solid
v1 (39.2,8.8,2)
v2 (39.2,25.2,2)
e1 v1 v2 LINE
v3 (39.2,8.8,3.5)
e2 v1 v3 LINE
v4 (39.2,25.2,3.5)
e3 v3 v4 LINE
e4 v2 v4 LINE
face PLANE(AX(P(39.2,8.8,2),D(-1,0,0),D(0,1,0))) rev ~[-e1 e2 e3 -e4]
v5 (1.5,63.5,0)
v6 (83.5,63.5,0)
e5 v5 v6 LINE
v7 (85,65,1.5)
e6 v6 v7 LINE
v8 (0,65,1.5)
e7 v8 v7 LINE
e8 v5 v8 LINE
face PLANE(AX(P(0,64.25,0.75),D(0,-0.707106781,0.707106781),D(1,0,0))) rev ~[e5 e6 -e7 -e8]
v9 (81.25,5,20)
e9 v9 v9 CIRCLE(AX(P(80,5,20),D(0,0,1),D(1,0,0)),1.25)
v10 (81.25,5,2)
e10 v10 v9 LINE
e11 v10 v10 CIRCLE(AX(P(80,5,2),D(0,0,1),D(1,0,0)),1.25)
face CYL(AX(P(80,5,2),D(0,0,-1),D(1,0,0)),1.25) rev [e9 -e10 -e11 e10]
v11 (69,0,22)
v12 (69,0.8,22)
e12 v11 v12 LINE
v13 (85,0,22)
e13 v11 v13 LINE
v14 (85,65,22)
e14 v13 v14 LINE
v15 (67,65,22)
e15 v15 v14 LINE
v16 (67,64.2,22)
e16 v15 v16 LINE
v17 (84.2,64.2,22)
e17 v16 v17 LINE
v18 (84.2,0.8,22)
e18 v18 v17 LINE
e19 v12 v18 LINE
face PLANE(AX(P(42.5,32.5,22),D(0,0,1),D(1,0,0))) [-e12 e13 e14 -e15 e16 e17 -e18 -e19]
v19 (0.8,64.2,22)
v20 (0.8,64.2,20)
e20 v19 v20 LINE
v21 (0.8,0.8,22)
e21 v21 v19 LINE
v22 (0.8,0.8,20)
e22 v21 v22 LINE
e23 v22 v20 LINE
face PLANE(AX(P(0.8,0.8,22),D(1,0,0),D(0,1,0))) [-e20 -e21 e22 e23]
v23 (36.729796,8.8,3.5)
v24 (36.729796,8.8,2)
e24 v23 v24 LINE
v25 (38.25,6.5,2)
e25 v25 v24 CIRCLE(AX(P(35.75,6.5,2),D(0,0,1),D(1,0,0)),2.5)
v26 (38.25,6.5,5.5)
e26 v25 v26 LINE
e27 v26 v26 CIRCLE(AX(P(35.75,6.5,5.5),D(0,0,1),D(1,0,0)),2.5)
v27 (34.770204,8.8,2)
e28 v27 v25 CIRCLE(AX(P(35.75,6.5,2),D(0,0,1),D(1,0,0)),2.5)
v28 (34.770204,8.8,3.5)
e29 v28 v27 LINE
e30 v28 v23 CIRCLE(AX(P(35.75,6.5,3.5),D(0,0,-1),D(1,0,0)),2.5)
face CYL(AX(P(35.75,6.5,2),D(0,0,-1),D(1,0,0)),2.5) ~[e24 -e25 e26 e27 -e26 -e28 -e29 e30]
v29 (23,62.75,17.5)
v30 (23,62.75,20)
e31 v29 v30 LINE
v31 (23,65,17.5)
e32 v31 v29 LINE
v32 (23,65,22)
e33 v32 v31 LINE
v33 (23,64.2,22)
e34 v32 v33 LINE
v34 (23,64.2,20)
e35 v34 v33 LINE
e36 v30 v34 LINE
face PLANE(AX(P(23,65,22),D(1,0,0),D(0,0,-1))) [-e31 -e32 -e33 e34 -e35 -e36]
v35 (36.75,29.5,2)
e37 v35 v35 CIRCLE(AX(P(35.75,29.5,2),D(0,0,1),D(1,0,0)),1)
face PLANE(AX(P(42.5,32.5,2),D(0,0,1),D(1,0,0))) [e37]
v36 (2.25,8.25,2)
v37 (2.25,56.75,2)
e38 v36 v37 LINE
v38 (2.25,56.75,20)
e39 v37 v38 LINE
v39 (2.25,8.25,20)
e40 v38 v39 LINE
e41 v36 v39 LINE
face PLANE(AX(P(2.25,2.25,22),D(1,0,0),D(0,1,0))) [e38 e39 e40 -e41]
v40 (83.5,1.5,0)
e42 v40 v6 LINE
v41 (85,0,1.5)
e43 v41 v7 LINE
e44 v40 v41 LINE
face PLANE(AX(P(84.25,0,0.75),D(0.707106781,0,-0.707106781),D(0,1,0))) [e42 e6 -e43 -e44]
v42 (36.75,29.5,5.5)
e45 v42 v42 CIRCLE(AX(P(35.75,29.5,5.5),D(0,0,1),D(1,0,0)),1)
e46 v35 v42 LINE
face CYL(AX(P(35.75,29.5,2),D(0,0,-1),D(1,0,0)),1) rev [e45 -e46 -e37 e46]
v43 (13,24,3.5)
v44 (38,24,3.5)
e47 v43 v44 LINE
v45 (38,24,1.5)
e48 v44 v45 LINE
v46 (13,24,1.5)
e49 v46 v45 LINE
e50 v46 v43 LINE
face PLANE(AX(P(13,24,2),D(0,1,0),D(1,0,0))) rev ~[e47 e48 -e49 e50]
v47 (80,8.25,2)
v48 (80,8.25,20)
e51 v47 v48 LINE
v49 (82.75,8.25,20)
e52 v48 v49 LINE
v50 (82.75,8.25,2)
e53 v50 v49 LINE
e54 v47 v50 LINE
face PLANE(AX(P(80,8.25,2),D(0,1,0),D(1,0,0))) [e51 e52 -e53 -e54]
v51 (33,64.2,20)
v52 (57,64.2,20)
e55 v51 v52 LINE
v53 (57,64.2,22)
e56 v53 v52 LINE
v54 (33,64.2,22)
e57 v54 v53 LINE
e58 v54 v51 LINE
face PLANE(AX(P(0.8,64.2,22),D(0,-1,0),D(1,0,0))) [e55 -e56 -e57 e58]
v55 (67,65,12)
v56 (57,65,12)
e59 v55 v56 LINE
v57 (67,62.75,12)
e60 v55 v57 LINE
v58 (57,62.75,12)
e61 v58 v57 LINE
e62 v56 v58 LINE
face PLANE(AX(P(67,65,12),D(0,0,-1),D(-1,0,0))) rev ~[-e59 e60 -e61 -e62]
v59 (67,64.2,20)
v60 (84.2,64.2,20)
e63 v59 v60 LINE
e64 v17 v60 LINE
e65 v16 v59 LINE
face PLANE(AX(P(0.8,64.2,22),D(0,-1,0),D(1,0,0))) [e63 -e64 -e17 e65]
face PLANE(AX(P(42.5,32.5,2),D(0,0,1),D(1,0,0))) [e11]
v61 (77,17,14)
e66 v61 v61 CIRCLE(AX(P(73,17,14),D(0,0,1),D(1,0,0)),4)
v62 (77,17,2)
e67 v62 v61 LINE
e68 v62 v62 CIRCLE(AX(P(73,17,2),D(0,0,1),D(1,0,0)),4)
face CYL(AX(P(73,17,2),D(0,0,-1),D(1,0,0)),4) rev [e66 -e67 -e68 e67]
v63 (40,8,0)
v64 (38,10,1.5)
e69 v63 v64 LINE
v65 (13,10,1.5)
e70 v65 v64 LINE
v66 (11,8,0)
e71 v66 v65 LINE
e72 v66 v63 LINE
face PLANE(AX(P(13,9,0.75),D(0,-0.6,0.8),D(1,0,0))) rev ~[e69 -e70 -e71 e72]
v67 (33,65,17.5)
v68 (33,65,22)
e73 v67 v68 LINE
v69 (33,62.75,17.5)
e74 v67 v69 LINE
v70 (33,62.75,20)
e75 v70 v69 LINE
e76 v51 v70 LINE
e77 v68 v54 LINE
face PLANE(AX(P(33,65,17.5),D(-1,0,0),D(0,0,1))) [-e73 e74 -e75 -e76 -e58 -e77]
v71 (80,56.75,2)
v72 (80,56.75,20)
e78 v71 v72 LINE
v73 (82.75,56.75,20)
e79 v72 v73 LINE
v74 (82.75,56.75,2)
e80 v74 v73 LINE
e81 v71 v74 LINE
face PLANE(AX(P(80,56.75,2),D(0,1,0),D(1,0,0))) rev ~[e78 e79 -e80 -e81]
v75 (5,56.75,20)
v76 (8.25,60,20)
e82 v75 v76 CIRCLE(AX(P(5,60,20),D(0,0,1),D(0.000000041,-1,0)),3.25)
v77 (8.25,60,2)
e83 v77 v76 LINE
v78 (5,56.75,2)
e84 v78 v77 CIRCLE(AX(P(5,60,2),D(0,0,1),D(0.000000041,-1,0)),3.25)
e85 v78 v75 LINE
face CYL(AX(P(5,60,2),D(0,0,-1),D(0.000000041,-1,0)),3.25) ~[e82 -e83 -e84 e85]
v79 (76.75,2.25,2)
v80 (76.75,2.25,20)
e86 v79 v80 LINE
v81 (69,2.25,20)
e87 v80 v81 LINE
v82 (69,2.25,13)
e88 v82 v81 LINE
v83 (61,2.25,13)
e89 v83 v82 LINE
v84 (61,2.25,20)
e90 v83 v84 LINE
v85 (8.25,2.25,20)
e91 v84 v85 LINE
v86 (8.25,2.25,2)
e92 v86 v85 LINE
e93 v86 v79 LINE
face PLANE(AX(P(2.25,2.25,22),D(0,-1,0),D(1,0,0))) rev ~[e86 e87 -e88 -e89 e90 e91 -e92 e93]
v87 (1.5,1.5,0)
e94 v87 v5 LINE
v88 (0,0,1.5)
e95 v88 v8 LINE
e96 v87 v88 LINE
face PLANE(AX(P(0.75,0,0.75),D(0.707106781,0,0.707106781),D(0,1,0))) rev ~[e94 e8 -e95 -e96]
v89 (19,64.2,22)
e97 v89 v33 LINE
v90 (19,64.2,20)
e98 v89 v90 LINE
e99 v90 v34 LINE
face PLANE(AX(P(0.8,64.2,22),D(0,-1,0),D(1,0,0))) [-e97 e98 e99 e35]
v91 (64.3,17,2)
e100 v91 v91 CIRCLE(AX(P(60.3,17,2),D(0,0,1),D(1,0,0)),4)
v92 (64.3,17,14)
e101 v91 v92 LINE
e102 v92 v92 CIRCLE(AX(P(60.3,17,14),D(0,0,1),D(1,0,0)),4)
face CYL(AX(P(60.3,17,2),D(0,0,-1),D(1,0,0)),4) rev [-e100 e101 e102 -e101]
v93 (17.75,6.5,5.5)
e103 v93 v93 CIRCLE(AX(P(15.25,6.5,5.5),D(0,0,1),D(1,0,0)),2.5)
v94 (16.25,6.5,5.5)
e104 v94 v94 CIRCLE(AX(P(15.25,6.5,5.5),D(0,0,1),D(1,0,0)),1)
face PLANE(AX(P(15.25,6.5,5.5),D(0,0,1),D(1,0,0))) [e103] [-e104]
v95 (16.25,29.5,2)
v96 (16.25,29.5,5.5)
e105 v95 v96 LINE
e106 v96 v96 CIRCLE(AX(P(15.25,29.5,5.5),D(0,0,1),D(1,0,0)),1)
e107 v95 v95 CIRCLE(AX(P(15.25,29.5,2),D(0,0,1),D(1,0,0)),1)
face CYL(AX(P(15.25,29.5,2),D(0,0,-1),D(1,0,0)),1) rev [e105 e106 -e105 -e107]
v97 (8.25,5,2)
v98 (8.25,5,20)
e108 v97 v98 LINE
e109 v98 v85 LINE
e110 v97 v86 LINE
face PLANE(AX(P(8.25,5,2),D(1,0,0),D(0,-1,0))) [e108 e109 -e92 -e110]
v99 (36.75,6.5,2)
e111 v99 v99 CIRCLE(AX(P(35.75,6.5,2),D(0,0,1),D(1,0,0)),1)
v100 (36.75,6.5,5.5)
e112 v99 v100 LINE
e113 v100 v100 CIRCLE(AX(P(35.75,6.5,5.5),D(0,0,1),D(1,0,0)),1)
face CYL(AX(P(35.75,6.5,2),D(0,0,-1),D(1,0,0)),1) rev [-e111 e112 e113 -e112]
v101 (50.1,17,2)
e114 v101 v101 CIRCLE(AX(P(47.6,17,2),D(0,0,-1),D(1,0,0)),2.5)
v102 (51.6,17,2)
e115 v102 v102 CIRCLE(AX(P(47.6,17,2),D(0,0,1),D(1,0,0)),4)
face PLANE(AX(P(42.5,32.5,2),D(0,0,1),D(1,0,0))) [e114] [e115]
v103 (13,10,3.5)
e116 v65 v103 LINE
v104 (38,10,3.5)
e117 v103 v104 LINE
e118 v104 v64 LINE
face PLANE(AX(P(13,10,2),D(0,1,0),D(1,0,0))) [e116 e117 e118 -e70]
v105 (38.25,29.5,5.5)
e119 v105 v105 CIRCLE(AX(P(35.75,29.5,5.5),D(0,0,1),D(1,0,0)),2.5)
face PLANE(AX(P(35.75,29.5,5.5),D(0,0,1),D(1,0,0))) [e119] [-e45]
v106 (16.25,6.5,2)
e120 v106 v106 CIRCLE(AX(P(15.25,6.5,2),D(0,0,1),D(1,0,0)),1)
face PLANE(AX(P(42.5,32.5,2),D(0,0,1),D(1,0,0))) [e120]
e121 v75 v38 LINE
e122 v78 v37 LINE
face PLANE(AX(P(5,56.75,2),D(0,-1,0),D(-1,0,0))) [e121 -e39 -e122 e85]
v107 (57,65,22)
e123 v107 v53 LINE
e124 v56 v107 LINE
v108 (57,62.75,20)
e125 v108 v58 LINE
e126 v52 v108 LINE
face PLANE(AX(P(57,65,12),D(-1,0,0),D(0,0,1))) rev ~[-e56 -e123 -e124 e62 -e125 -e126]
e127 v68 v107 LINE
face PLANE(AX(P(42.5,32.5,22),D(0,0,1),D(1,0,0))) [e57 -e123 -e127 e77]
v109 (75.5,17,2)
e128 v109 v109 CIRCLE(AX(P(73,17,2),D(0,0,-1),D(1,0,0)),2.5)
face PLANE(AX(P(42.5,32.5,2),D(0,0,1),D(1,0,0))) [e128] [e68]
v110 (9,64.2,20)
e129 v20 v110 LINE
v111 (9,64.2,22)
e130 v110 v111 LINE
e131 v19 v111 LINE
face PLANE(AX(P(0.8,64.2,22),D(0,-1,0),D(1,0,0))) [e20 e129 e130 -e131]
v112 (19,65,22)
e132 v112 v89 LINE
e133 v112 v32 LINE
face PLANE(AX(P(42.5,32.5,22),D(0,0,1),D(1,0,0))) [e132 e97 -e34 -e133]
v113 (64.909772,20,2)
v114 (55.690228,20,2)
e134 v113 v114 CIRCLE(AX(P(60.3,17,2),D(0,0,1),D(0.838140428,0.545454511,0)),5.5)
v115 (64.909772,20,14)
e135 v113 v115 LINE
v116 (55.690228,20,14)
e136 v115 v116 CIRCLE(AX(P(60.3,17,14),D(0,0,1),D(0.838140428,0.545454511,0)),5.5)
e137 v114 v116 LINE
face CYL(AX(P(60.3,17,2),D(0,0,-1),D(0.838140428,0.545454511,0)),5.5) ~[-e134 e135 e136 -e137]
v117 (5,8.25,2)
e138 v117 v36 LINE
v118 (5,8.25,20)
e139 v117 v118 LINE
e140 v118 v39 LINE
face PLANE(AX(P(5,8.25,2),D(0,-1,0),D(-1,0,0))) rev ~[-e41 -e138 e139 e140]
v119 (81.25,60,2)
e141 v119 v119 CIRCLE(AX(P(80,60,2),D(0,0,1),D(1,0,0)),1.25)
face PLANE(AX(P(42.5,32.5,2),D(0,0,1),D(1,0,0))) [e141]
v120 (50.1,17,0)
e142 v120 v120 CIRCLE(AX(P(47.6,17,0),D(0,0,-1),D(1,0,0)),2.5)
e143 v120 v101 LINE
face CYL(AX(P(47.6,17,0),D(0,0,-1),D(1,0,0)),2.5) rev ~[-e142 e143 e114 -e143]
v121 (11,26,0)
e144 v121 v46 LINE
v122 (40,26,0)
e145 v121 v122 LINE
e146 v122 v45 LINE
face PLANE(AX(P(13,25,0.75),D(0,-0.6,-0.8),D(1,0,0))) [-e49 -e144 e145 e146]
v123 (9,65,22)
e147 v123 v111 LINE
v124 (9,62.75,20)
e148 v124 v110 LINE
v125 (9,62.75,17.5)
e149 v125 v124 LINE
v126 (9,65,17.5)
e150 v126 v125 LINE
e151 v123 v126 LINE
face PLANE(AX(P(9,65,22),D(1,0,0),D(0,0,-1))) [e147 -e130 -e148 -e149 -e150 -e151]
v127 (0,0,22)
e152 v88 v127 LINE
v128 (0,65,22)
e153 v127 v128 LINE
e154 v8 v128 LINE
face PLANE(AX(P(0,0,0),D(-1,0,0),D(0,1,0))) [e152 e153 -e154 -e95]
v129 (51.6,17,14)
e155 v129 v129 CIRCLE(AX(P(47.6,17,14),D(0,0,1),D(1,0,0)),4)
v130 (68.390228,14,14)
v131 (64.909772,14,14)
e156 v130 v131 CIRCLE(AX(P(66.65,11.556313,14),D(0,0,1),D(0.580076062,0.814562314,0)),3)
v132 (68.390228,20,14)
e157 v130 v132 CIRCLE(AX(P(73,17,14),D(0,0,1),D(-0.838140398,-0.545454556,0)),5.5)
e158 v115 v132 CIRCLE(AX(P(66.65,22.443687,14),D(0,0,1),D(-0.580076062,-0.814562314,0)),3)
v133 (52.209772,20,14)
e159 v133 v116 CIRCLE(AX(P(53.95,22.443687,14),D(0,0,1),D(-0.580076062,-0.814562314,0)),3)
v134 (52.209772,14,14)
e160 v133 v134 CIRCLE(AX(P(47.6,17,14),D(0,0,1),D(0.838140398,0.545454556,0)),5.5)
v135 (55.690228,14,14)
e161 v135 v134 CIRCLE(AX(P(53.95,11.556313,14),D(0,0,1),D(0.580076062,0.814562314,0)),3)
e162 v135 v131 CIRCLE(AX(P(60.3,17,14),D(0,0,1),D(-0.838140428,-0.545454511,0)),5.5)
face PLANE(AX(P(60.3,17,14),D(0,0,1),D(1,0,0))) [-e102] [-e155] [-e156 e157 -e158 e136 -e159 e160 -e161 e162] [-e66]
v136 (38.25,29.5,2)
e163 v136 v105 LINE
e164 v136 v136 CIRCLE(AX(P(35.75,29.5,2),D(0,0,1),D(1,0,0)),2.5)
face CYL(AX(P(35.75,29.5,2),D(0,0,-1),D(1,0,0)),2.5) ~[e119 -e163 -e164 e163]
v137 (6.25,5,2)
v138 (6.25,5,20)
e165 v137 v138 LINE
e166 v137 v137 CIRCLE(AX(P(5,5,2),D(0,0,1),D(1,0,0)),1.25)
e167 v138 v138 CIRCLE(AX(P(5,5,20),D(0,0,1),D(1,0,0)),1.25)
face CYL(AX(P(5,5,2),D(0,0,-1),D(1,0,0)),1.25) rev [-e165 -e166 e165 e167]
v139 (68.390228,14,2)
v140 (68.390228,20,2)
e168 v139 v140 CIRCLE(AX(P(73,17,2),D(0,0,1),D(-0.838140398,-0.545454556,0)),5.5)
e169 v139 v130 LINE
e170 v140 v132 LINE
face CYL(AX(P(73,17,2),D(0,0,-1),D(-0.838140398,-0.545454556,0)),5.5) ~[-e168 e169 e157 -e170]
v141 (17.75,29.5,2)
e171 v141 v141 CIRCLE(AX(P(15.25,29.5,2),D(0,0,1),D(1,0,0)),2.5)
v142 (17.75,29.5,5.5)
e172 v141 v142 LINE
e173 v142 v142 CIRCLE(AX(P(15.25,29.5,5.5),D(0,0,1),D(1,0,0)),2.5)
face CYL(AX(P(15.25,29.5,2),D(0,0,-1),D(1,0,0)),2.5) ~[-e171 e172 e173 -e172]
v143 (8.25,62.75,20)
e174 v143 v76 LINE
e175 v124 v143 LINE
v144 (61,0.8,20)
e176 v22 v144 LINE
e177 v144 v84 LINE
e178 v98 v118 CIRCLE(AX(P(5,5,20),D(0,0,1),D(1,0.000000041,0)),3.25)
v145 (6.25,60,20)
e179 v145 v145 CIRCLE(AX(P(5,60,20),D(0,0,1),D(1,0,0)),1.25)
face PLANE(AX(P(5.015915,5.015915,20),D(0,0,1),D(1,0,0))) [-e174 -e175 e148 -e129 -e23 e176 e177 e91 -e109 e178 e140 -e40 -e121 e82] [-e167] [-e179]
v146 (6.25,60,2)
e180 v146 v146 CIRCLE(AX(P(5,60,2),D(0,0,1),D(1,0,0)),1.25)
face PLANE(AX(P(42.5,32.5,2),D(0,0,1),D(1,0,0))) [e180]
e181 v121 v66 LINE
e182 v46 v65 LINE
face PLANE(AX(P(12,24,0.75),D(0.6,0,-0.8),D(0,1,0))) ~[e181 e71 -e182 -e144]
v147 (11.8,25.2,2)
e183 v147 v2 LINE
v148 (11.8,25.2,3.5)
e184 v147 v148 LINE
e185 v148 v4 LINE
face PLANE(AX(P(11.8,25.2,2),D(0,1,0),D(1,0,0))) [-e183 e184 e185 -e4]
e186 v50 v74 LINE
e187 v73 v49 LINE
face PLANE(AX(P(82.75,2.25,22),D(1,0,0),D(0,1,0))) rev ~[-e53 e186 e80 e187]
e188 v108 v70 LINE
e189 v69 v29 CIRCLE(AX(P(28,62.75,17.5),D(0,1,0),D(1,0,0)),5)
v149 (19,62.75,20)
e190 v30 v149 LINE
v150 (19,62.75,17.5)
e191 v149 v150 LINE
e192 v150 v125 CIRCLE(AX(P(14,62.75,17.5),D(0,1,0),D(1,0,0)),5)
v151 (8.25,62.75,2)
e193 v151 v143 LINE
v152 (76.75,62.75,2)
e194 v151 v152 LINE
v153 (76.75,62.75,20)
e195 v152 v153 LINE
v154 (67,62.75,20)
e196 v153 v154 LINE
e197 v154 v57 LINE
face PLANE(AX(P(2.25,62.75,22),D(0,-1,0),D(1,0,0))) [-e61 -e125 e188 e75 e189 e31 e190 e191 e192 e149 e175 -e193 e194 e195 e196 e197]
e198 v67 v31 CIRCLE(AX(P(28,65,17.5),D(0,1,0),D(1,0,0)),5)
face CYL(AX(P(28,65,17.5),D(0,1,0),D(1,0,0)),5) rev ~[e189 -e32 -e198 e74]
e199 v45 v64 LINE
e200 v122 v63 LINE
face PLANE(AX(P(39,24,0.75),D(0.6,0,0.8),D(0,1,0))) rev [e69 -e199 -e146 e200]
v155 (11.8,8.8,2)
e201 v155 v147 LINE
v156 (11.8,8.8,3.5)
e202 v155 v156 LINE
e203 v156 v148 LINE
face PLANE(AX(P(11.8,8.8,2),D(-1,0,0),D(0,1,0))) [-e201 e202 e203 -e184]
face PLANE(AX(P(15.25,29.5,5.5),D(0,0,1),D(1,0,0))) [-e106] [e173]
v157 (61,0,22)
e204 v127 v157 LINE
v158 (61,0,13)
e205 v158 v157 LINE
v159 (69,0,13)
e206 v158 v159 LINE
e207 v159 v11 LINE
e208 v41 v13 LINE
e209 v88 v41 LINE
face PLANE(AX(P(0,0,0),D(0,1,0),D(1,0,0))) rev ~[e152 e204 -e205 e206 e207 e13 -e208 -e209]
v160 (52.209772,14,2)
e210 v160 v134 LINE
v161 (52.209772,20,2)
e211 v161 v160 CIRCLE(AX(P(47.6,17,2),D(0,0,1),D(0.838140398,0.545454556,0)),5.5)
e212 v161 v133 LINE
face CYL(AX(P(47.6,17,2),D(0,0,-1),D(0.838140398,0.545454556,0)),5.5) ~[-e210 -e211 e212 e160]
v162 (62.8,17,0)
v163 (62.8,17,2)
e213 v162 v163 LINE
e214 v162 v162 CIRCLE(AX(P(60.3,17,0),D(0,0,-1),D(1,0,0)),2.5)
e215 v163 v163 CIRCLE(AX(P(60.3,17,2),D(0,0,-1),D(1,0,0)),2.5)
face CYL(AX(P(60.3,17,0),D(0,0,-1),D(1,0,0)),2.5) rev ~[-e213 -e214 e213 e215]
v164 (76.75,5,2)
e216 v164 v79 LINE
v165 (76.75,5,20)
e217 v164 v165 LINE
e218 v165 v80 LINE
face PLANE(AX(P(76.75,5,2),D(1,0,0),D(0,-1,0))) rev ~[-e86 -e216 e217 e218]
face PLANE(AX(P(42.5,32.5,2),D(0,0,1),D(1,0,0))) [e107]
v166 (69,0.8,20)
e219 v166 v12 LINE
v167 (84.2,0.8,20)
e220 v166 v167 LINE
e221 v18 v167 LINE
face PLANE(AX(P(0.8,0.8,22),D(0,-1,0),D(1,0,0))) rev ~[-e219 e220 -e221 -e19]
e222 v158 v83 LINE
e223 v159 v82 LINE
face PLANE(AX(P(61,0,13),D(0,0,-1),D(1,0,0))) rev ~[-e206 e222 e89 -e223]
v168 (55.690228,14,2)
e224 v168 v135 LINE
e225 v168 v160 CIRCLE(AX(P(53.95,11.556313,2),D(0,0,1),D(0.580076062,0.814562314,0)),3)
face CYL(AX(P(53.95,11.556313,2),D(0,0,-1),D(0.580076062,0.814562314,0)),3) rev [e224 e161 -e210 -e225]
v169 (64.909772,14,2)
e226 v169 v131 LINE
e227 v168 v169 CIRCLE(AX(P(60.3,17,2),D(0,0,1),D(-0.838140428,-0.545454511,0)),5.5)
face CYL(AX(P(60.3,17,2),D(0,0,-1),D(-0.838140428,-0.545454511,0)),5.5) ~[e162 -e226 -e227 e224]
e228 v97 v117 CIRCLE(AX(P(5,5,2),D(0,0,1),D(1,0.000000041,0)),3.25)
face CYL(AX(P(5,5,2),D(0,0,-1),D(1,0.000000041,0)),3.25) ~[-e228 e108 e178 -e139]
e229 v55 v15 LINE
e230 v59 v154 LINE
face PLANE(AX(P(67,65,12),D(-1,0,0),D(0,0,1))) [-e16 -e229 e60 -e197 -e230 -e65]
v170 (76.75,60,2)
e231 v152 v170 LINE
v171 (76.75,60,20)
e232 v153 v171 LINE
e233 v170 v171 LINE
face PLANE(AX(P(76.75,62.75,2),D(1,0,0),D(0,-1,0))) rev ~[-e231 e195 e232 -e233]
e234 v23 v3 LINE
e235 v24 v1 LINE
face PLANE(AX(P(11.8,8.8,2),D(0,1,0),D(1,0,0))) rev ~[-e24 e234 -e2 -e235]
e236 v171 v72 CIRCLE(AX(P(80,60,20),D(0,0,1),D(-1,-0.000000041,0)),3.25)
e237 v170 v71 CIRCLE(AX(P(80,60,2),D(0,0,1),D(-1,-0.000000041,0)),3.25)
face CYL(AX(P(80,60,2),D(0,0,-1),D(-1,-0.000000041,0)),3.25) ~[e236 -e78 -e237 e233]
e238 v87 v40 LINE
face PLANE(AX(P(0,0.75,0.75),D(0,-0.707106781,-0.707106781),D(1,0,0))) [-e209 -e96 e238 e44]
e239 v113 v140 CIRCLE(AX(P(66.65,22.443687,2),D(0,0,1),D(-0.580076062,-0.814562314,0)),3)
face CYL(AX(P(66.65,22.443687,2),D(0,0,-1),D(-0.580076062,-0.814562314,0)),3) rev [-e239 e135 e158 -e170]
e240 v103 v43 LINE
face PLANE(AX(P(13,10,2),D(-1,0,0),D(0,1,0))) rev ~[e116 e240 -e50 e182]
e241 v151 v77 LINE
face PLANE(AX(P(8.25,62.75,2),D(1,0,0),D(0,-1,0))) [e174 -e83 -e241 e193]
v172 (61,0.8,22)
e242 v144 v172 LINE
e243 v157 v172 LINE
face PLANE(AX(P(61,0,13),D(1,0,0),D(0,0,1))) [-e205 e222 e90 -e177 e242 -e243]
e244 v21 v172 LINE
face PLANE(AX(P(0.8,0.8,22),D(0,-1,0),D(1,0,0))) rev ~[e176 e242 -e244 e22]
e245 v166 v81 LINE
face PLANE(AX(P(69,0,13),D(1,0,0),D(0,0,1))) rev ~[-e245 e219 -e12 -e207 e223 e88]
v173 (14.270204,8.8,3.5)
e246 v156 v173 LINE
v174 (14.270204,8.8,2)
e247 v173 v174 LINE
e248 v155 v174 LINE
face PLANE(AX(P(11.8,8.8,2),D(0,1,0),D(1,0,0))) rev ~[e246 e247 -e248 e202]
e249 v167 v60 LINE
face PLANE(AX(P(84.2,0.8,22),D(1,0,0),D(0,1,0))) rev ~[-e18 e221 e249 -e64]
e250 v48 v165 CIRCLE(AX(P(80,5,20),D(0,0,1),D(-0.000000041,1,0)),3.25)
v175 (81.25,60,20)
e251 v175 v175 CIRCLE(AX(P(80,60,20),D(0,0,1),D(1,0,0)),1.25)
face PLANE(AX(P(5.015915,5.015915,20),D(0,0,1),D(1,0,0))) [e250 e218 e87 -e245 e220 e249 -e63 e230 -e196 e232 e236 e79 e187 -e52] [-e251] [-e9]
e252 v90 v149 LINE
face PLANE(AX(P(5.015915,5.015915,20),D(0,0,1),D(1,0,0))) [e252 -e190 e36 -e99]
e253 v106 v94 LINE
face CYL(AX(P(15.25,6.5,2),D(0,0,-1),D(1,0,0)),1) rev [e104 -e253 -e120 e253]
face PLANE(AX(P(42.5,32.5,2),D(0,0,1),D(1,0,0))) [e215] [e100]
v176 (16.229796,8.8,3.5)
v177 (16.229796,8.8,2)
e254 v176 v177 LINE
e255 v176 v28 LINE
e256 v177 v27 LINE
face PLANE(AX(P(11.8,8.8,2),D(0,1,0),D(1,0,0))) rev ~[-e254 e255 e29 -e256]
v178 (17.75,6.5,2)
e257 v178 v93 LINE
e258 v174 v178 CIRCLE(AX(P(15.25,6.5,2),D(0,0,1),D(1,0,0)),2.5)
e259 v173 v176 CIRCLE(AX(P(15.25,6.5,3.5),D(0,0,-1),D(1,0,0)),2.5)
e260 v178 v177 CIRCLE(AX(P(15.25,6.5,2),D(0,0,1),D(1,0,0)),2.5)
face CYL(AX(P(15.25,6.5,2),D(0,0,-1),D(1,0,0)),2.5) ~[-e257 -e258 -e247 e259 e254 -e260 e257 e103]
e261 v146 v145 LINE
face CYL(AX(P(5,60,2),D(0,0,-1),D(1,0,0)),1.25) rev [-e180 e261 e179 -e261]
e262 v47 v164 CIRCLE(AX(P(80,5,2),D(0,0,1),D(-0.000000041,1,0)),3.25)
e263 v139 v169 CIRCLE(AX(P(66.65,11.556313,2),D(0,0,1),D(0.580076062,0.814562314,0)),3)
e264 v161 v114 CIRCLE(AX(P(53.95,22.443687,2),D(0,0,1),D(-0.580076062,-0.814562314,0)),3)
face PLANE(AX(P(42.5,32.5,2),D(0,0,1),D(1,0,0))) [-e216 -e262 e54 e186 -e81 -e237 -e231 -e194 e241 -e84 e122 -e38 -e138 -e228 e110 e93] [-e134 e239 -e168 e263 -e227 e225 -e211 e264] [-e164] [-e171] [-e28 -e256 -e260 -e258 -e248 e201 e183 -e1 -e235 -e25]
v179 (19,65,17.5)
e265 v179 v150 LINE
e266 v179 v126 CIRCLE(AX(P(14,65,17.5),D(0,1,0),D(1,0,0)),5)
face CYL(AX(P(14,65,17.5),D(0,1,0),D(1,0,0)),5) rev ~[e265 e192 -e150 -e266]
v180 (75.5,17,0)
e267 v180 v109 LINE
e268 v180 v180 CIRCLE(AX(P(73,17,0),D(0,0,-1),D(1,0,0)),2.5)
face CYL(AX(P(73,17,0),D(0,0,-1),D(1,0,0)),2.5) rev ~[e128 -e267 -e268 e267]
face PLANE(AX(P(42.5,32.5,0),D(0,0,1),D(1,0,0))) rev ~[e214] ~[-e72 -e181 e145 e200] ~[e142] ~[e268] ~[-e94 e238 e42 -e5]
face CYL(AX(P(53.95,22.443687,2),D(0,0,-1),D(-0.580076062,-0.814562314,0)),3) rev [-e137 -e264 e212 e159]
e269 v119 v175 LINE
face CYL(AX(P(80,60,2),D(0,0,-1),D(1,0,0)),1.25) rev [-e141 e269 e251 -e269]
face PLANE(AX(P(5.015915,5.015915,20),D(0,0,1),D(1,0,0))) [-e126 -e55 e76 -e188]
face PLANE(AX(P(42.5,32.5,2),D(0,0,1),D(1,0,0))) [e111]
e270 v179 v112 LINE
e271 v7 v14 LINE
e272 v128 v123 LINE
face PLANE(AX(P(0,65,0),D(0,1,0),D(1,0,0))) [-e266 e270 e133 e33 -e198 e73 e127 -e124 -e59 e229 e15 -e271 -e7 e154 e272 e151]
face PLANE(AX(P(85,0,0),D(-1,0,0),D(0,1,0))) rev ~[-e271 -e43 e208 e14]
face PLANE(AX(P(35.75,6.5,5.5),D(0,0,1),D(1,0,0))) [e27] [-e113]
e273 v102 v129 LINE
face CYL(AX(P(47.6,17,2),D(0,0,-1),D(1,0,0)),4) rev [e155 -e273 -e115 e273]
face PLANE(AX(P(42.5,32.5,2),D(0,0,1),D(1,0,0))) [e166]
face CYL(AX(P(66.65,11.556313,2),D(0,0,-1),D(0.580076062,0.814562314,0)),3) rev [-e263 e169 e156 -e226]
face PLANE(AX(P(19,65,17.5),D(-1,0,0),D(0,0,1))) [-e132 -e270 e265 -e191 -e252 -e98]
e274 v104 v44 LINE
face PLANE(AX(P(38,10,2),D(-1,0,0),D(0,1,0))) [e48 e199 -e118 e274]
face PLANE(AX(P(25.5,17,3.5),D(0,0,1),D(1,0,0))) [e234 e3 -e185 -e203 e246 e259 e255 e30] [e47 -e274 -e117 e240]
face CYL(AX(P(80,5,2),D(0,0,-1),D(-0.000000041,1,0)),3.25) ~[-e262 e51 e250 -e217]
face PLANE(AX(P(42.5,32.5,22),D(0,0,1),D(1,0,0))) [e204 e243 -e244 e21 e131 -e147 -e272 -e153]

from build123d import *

# Parameters (mm, degrees)
SKETCH_W        = 85
SKETCH_H        = 65
PAD_DEPTH       = 22
SKETCH001_W     = 80.5
SKETCH001_H     = 60.5
POCKET_DEPTH    = 20
SKETCH002_W     = 83.4
SKETCH002_H     = 63.4
POCKET001_DEPTH = 2
SKETCH003_R     = 1.25
PAD001_DEPTH    = 18
SKETCH004_R     = 2.5
SKETCH004_W     = 25
SKETCH004_H     = 14
POCKET002_DEPTH = 5
SKETCH005_R     = 2.5
SKETCH005_R_2   = 1
PAD002_DEPTH    = 3.5
SKETCH006_W     = 27.4
SKETCH006_H     = 16.4
SKETCH006_W_2   = 25
SKETCH006_H_2   = 14
PAD003_DEPTH    = 1.5
CHAMFER_SIZE2   = 1.5
CHAMFER_SIZE    = 2
CHAMFER001_SIZE = 1.5
SKETCH007_R     = 4
PAD004_DEPTH    = 12
SKETCH008_W     = 10
SKETCH008_H     = 10
POCKET003_DEPTH = 5
POCKET004_DEPTH = 5
SKETCH010_W     = 8
SKETCH010_H     = 9
POCKET005_DEPTH = 5


with BuildPart() as part:
    # Sketch → Pad (new body)
    with BuildSketch(Plane.XY):
        with Locations((42.5, 32.5)):
            Rectangle(SKETCH_W, SKETCH_H)
    extrude(amount=PAD_DEPTH)

    # Sketch001 (on Face6 of Pad) → Pocket (cut)
    with BuildSketch(Plane.XY.offset(22)):
        with Locations((42.5, 32.5)):
            Rectangle(SKETCH001_W, SKETCH001_H)
    extrude(amount=-POCKET_DEPTH, mode=Mode.SUBTRACT)

    # Sketch002 (on Face5 of Pocket) → Pocket001 (cut)
    with BuildSketch(Plane.XY.offset(22)):
        with Locations((42.5, 32.5)):
            Rectangle(SKETCH002_W, SKETCH002_H)
    extrude(amount=-POCKET001_DEPTH, mode=Mode.SUBTRACT)

    # Sketch003 (on Face16 of Pocket001) → Pad001 (join)
    with BuildSketch(Plane.XY.offset(2)):
        with BuildLine():
            Line((2.25, 2.25), (8.25, 2.25))
            Line((8.25, 5), (8.25, 2.25))
            ThreePointArc((8.25, 5), (7.298097, 7.298097), (5, 8.25))
            Line((5, 8.25), (2.25, 8.25))
            Line((2.25, 8.25), (2.25, 2.25))
        make_face()
        with Locations((5, 5)):
            Circle(SKETCH003_R, mode=Mode.SUBTRACT)
        with BuildLine():
            Line((82.75, 2.25), (76.75, 2.25))
            Line((76.75, 5), (76.75, 2.25))
            ThreePointArc((80, 8.25), (77.701903, 7.298097), (76.75, 5))
            Line((80, 8.25), (82.75, 8.25))
            Line((82.75, 8.25), (82.75, 2.25))
        make_face()
        with Locations((80, 5)):
            Circle(SKETCH003_R, mode=Mode.SUBTRACT)
        with BuildLine():
            Line((2.25, 62.75), (8.25, 62.75))
            Line((8.25, 62.75), (8.25, 60))
            ThreePointArc((5, 56.75), (7.298097, 57.701903), (8.25, 60))
            Line((5, 56.75), (2.25, 56.75))
            Line((2.25, 56.75), (2.25, 62.75))
        make_face()
        with Locations((5, 60)):
            Circle(SKETCH003_R, mode=Mode.SUBTRACT)
        with BuildLine():
            Line((82.75, 62.75), (76.75, 62.75))
            Line((76.75, 62.75), (76.75, 60))
            ThreePointArc((76.75, 60), (77.701903, 57.701903), (80, 56.75))
            Line((80, 56.75), (82.75, 56.75))
            Line((82.75, 62.75), (82.75, 56.75))
        make_face()
        with Locations((80, 60)):
            Circle(SKETCH003_R, mode=Mode.SUBTRACT)
    extrude(amount=PAD001_DEPTH)

    # Sketch004 (on Face4 of Pad001) → Pocket002 (cut)
    with BuildSketch(Plane(origin=(0, 0, 0), x_dir=(1, 0, 0), z_dir=(0, 0, -1))):
        with Locations((73, -17)):
            Circle(SKETCH004_R)
        with Locations((60.3, -17)):
            Circle(SKETCH004_R)
        with Locations((47.6, -17)):
            Circle(SKETCH004_R)
        with Locations((25.5, -17)):
            Rectangle(SKETCH004_W, SKETCH004_H)
    extrude(amount=-POCKET002_DEPTH, mode=Mode.SUBTRACT)

    # Sketch005 (on Face18 of Pocket002) → Pad002 (join)
    with BuildSketch(Plane.XY.offset(2)):
        with Locations((15.25, 6.5)):
            Circle(SKETCH005_R)
        with Locations((15.25, 6.5)):
            Circle(SKETCH005_R_2, mode=Mode.SUBTRACT)
        with Locations((35.75, 6.5)):
            Circle(SKETCH005_R)
        with Locations((35.75, 6.5)):
            Circle(SKETCH005_R_2, mode=Mode.SUBTRACT)
        with Locations((35.75, 29.5)):
            Circle(SKETCH005_R)
        with Locations((35.75, 29.5)):
            Circle(SKETCH005_R_2, mode=Mode.SUBTRACT)
        with Locations((15.25, 29.5)):
            Circle(SKETCH005_R)
        with Locations((15.25, 29.5)):
            Circle(SKETCH005_R_2, mode=Mode.SUBTRACT)
    extrude(amount=PAD002_DEPTH)

    # Sketch006 (on Face18 of Pad002) → Pad003 (join)
    with BuildSketch(Plane.XY.offset(2)):
        with Locations((25.5, 17)):
            Rectangle(SKETCH006_W, SKETCH006_H)
        with Locations((25.5, 17)):
            Rectangle(SKETCH006_W_2, SKETCH006_H_2, mode=Mode.SUBTRACT)
    extrude(amount=PAD003_DEPTH)

    # Chamfer
    chamfer_edges = [part.edges().sort_by_distance(p)[0] for p in [
        (25.5, 10, 0),
        (13, 17, 0),
        (25.5, 24, 0),
        (38, 17, 0),
    ]]
    chamfer_side = part.faces().sort_by_distance((43.458054, 33.73884, 0))[0]
    chamfer(chamfer_edges, length=CHAMFER_SIZE, length2=CHAMFER_SIZE2, reference=chamfer_side)

    # Chamfer001
    chamfer001_edges = [part.edges().sort_by_distance(p)[0] for p in [
        (0, 32.5, 0),
        (42.5, 65, 0),
        (85, 32.5, 0),
        (42.5, 0, 0),
    ]]
    chamfer(chamfer001_edges, length=CHAMFER001_SIZE)

    # Sketch007 (on Face21 of Chamfer001) → Pad004 (join)
    with BuildSketch(Plane.XY.offset(2)):
        with BuildLine():
            ThreePointArc((68.390228, 14), (78.5, 17), (68.390228, 20))
            ThreePointArc((64.909772, 20), (66.65, 19.443687), (68.390228, 20))
            ThreePointArc((64.909772, 20), (60.3, 22.5), (55.690228, 20))
            ThreePointArc((52.209772, 20), (53.95, 19.443687), (55.690228, 20))
            ThreePointArc((52.209772, 20), (42.1, 17), (52.209772, 14))
            ThreePointArc((55.690228, 14), (53.95, 14.556313), (52.209772, 14))
            ThreePointArc((55.690228, 14), (60.3, 11.5), (64.909772, 14))
            ThreePointArc((68.390228, 14), (66.65, 14.556313), (64.909772, 14))
        make_face()
        with Locations((47.6, 17)):
            Circle(SKETCH007_R, mode=Mode.SUBTRACT)
        with Locations((60.3, 17)):
            Circle(SKETCH007_R, mode=Mode.SUBTRACT)
        with Locations((73, 17)):
            Circle(SKETCH007_R, mode=Mode.SUBTRACT)
    extrude(amount=PAD004_DEPTH)

    # Sketch008 (on Face14 of Pad004) → Pocket003 (cut)
    with BuildSketch(Plane(origin=(0, 65, 0), x_dir=(-1, 0, 0), z_dir=(0, 1, 0))):
        with Locations((-62, 17)):
            Rectangle(SKETCH008_W, SKETCH008_H)
    extrude(amount=-POCKET003_DEPTH, mode=Mode.SUBTRACT)

    # Sketch009 (on Face14 of Pocket003) → Pocket004 (cut)
    with BuildSketch(Plane(origin=(0, 65, 0), x_dir=(-1, 0, 0), z_dir=(0, 1, 0))):
        with BuildLine():
            ThreePointArc((-19, 17.5), (-14, 12.5), (-9, 17.5))
            Line((-9, 22), (-9, 17.5))
            Line((-19, 22), (-9, 22))
            Line((-19, 17.5), (-19, 22))
        make_face()
        with BuildLine():
            ThreePointArc((-33, 17.5), (-28, 12.5), (-23, 17.5))
            Line((-23, 22), (-23, 17.5))
            Line((-33, 22), (-23, 22))
            Line((-33, 17.5), (-33, 22))
        make_face()
    extrude(amount=-POCKET004_DEPTH, mode=Mode.SUBTRACT)

    # Sketch010 (on Face15 of Pocket004) → Pocket005 (cut)
    with BuildSketch(Plane.XZ):
        with Locations((65, 17.5)):
            Rectangle(SKETCH010_W, SKETCH010_H)
    extrude(amount=-POCKET005_DEPTH, mode=Mode.SUBTRACT)


solid = part.part
